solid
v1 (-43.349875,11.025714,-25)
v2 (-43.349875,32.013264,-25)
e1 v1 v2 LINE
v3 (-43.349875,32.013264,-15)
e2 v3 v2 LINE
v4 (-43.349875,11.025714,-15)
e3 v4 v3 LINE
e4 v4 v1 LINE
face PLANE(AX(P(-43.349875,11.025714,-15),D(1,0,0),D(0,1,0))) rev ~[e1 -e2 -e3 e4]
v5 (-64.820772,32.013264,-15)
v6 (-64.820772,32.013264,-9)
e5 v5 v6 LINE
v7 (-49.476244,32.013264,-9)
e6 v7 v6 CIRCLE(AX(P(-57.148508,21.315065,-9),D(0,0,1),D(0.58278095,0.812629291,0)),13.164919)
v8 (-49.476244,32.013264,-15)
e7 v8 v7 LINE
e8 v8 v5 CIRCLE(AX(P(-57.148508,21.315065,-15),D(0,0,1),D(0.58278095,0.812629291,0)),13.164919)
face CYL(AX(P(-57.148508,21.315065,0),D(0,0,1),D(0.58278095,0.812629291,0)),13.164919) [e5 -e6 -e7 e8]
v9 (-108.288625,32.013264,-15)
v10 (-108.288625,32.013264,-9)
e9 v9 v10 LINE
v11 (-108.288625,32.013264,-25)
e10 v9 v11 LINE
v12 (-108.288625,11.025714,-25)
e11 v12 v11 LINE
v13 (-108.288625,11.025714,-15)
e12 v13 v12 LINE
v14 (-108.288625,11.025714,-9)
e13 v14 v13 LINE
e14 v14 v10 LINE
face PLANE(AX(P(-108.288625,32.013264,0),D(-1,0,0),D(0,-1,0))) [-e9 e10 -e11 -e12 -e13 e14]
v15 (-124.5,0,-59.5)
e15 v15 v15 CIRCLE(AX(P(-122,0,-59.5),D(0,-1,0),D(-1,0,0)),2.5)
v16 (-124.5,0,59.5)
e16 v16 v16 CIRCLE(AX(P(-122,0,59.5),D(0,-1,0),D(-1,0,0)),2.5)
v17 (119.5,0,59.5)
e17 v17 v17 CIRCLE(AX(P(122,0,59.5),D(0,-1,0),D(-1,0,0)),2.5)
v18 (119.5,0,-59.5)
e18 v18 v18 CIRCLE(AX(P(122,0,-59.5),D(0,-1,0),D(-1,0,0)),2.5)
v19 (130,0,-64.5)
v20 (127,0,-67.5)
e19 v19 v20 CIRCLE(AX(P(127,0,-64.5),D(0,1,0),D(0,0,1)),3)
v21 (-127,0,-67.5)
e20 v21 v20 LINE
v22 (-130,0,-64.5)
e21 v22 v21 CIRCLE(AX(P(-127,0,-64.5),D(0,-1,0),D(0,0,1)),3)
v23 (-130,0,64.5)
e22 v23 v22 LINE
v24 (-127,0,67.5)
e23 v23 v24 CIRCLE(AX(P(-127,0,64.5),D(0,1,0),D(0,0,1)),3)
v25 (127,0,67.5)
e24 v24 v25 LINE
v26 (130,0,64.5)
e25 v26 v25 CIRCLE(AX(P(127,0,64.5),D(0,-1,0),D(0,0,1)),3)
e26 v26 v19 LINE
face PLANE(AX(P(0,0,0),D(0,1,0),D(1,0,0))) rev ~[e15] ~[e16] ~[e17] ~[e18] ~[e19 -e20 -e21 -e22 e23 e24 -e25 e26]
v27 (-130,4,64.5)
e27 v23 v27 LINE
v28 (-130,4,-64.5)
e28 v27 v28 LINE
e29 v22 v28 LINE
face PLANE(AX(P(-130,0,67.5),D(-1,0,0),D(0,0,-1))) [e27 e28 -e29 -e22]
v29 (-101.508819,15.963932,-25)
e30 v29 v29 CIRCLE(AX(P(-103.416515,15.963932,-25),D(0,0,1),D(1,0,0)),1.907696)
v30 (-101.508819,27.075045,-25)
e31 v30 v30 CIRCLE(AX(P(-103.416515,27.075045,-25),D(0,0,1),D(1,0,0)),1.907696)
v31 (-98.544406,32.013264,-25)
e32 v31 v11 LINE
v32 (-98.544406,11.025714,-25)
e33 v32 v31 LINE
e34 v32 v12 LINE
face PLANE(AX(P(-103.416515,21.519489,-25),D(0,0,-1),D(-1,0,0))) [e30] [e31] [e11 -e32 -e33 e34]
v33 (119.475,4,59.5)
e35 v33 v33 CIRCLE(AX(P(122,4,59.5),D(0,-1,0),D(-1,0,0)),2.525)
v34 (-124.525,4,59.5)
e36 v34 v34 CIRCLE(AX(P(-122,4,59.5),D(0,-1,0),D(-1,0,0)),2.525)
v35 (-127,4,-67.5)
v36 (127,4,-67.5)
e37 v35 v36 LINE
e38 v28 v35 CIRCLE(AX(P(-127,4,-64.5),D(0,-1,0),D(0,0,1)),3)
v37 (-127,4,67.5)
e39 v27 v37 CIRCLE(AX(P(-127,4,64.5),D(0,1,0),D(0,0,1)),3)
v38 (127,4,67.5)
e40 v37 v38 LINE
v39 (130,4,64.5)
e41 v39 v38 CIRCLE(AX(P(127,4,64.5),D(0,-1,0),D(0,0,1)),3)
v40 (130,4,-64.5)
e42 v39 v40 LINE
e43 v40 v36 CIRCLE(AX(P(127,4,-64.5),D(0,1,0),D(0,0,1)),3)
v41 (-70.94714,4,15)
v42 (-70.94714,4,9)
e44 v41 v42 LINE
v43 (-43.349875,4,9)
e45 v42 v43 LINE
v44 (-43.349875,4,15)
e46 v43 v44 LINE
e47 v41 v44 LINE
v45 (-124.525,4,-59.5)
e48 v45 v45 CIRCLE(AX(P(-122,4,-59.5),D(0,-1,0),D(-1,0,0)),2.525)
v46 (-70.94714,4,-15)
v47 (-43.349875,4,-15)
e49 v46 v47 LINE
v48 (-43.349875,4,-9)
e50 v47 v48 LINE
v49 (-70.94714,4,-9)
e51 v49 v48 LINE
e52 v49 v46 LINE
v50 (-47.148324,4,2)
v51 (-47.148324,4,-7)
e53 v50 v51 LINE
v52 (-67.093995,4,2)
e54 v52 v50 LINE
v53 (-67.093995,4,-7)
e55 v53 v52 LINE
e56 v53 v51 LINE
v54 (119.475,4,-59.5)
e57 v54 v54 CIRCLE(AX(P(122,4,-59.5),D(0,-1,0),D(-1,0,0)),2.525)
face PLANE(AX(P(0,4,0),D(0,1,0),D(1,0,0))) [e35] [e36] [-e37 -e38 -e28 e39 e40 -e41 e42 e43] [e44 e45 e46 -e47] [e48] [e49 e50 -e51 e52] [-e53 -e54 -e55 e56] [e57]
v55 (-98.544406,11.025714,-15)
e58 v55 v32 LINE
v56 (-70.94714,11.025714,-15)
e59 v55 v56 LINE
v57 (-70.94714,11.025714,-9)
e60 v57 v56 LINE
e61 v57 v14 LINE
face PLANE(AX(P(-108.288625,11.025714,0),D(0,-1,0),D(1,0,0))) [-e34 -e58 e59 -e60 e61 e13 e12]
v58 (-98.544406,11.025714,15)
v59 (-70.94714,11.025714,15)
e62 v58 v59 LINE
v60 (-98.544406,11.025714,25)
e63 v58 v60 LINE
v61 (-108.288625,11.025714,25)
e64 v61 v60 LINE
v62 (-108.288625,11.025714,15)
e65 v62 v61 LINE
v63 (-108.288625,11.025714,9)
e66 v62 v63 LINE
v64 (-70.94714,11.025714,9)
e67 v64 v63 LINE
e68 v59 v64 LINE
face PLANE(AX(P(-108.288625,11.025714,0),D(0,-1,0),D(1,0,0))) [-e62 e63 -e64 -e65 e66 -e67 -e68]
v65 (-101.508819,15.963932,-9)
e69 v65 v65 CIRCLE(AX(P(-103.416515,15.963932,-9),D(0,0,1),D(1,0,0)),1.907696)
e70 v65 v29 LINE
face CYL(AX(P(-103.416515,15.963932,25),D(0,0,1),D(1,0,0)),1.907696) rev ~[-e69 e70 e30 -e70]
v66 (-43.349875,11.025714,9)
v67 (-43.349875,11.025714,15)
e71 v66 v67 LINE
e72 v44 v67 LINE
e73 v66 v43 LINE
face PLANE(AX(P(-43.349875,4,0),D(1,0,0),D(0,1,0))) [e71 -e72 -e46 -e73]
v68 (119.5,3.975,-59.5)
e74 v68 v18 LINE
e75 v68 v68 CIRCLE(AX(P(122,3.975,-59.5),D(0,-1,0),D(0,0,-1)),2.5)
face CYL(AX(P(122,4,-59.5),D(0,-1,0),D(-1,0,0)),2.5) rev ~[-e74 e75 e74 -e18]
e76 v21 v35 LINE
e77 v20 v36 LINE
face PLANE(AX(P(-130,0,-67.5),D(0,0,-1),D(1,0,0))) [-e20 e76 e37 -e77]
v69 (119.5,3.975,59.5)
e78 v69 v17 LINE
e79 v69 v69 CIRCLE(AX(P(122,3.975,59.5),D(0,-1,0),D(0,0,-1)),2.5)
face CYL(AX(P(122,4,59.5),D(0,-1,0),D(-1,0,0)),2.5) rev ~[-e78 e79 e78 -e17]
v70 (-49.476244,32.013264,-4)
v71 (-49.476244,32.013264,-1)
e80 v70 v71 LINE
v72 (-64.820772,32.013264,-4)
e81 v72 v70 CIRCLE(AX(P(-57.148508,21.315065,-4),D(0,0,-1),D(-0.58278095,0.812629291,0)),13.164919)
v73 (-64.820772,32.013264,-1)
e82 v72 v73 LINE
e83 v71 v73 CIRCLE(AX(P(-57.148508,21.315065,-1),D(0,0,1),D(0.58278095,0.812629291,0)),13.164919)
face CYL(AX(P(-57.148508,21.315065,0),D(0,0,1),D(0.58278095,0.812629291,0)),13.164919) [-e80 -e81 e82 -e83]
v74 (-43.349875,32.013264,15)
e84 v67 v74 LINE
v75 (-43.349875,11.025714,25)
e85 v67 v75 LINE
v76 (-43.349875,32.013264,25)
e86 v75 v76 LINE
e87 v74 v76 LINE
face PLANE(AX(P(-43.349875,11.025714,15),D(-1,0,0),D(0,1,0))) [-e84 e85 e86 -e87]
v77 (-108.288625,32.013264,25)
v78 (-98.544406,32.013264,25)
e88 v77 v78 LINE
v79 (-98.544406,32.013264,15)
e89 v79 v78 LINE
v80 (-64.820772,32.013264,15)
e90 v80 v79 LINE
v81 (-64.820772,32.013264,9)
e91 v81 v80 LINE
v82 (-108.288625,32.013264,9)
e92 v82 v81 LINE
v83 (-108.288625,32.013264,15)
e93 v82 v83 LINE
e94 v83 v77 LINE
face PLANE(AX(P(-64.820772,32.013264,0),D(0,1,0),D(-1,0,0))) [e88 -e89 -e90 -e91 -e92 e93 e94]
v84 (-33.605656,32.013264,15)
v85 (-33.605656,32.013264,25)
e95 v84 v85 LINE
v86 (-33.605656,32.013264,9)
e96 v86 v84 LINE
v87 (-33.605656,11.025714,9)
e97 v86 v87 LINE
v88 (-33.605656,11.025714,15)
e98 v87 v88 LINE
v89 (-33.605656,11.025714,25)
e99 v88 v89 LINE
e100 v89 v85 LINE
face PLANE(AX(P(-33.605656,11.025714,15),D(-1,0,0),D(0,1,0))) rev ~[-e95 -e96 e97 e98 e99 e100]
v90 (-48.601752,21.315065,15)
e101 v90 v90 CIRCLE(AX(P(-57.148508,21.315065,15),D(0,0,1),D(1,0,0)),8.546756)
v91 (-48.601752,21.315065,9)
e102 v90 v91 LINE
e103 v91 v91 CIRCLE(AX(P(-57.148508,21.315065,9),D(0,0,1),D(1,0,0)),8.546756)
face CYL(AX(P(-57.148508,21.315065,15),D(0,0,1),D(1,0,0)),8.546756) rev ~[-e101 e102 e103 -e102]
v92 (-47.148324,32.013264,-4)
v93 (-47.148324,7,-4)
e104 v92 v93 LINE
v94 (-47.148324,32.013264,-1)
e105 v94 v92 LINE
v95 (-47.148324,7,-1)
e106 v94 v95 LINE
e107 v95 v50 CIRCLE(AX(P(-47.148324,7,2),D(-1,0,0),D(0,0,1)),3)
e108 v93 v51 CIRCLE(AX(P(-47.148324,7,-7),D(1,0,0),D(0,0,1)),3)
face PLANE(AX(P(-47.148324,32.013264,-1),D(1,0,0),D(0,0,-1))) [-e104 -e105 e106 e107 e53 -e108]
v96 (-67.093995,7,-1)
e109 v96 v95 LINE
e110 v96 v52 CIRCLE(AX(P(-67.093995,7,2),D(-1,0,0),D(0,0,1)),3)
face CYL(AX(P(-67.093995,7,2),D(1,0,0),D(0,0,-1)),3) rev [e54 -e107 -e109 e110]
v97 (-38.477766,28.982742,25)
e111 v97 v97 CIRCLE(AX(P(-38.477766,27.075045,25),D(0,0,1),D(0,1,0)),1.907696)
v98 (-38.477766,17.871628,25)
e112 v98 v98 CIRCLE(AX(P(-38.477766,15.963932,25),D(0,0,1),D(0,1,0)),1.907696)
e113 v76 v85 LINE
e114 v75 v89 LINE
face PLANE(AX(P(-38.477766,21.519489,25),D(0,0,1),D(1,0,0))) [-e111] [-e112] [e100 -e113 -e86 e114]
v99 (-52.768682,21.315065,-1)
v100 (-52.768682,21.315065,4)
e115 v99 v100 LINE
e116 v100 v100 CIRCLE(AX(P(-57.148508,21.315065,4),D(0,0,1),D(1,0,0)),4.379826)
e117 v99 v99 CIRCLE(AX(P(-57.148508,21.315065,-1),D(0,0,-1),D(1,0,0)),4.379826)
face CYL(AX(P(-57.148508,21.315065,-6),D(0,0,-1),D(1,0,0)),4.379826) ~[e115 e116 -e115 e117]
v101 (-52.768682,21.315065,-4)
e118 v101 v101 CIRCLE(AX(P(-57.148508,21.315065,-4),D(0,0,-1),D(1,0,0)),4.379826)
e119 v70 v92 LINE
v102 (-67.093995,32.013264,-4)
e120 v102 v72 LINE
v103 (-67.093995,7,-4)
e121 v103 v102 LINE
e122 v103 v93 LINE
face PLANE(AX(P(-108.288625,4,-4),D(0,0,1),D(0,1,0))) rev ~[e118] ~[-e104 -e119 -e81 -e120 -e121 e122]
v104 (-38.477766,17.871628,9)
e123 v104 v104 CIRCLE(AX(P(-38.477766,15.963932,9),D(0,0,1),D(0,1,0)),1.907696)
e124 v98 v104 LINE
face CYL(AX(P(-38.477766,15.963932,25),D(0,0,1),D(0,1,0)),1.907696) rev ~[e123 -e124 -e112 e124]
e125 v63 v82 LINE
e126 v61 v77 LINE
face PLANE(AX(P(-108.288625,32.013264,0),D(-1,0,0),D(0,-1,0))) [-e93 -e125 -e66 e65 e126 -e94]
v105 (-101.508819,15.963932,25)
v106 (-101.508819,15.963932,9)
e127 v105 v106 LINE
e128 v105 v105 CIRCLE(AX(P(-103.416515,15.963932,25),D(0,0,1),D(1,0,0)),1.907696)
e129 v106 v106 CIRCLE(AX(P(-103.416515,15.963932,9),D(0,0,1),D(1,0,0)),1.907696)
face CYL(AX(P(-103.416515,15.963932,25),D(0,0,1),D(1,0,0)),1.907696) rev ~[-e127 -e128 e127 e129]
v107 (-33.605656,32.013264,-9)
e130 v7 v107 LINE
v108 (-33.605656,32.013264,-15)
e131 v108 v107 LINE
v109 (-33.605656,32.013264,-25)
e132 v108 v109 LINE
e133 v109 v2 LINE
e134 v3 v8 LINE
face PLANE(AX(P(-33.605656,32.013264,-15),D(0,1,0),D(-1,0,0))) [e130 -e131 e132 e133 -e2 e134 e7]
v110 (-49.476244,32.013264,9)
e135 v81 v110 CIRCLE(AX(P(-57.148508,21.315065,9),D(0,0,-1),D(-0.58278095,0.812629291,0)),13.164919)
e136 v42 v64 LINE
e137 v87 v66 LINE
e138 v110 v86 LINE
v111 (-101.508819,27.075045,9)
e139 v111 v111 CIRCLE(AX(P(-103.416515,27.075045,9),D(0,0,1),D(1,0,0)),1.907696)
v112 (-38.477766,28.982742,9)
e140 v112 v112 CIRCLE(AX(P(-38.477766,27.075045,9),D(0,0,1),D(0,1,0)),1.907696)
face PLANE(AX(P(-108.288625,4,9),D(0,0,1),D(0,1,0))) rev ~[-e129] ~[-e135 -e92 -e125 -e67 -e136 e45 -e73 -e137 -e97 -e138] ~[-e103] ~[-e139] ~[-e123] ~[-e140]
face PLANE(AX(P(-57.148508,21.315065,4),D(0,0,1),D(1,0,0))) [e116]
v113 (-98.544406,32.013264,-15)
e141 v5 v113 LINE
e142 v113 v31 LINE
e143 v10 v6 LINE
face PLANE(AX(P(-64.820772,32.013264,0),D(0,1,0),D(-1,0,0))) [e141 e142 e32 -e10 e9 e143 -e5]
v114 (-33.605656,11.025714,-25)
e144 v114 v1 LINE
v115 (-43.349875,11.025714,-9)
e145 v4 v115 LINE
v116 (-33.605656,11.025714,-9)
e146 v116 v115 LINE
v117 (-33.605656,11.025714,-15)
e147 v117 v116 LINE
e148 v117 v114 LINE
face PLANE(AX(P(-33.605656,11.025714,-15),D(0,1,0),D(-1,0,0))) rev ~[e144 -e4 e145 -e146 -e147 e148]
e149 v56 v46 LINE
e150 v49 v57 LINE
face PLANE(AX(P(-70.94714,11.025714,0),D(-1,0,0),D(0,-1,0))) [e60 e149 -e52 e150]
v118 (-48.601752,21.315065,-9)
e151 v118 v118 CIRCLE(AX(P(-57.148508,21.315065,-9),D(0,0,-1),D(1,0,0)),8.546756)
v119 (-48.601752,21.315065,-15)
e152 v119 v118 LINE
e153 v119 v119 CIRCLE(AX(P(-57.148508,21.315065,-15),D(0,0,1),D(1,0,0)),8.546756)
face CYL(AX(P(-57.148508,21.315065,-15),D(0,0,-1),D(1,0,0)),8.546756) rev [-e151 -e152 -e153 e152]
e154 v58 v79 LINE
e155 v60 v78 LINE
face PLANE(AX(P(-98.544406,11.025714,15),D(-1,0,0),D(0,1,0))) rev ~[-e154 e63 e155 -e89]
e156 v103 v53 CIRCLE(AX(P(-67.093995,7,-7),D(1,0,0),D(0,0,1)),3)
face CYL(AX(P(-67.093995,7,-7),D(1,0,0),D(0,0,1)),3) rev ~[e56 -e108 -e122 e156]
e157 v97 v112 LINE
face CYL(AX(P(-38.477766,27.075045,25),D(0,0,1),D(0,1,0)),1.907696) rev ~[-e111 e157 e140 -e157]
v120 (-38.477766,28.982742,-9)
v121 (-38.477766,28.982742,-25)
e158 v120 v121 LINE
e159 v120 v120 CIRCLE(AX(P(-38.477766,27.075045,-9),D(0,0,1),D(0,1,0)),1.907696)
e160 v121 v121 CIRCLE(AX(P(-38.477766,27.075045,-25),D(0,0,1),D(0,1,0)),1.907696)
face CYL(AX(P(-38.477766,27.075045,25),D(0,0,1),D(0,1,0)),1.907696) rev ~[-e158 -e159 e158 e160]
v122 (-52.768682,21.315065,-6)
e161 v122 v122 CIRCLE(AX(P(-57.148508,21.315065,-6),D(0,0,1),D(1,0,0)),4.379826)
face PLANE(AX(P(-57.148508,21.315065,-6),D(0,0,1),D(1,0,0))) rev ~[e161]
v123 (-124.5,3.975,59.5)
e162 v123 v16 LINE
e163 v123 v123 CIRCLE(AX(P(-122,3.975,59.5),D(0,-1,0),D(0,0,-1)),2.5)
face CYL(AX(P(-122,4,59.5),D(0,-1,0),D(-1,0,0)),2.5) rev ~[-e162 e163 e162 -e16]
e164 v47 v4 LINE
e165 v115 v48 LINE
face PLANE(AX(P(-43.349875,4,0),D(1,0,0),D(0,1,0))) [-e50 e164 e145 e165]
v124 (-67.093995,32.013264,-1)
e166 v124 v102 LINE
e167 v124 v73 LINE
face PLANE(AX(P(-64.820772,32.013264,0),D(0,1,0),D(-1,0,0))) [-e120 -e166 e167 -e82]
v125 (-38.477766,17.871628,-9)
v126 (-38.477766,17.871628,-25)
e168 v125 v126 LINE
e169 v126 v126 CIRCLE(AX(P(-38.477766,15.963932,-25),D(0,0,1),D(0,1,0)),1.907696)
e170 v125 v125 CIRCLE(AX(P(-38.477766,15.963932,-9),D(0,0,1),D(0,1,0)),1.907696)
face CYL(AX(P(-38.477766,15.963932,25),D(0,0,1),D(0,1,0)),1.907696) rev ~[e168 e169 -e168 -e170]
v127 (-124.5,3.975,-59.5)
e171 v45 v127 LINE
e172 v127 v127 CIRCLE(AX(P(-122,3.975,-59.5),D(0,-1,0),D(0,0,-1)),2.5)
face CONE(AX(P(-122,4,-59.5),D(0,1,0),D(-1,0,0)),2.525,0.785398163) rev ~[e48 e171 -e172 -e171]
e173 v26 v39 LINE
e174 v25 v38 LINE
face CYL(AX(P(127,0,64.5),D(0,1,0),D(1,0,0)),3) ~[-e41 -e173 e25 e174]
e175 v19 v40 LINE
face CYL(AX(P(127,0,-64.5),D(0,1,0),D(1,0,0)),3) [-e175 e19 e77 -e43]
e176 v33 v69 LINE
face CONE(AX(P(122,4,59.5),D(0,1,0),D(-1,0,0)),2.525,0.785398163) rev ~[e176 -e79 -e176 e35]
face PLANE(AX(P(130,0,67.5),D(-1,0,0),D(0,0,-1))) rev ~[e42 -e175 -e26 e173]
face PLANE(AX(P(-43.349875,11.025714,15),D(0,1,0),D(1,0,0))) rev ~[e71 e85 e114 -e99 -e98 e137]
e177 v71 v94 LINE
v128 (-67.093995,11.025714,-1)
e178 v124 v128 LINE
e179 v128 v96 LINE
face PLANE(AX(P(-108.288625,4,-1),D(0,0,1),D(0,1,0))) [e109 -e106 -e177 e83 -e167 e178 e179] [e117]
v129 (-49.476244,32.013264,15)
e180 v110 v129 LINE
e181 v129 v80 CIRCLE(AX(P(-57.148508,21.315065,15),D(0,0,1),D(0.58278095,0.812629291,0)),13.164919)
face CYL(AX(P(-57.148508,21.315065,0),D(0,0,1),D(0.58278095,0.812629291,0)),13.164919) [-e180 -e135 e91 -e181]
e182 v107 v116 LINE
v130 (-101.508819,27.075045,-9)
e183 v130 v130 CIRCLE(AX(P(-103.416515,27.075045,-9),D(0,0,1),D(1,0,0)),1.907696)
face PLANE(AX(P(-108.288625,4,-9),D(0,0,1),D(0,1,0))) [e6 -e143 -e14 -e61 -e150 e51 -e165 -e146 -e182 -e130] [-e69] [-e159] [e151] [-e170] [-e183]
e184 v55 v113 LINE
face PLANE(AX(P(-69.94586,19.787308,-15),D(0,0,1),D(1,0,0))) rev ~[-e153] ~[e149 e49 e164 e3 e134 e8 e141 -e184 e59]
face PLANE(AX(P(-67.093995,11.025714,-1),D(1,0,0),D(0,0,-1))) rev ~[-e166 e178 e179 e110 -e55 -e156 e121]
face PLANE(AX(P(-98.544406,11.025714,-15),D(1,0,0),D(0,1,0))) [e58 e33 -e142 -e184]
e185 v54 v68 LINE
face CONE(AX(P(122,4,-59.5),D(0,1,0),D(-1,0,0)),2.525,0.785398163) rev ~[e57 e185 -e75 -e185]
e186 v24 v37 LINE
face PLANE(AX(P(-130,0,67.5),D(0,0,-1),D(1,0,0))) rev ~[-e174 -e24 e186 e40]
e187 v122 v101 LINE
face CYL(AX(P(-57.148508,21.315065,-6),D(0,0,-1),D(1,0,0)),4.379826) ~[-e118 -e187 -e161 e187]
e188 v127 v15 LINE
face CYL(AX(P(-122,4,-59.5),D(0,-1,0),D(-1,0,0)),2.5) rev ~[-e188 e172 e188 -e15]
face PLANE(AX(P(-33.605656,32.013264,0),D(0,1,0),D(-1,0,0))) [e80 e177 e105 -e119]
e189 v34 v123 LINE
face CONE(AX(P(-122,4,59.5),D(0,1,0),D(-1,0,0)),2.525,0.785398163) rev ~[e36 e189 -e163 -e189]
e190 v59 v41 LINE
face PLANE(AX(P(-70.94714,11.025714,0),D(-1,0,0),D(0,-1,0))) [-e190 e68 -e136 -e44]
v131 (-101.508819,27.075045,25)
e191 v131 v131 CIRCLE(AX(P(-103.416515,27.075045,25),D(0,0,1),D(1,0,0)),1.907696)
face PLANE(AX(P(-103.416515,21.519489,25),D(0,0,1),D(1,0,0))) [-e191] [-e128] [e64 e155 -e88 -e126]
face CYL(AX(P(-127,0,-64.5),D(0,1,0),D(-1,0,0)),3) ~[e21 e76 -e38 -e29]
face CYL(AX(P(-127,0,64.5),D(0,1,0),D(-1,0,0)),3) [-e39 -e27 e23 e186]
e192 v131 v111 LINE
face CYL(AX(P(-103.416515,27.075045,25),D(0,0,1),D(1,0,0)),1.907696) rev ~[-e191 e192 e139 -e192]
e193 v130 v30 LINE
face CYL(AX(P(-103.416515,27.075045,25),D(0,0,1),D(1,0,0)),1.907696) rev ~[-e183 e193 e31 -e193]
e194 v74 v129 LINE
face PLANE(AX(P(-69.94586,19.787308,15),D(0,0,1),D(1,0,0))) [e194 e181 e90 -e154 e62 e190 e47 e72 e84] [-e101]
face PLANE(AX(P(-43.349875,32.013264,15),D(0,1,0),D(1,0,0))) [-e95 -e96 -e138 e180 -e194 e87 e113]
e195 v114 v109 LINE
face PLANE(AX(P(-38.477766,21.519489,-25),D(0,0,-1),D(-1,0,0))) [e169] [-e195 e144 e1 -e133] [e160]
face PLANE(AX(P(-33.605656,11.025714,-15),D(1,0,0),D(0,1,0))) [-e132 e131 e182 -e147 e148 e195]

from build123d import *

# Parameters (mm, degrees)
SKETCH_1_W                      = 260
SKETCH_1_H                      = 135
EXTRUDE_1_DEPTH                 = 4
HOLE_WIZARD_5_0_5_1_D           = 5
HOLE_WIZARD_5_0_5_1_CSINK_D     = 5.05
HOLE_WIZARD_5_0_5_1_CSINK_ANGLE = 90
FILLET_1_R                      = 3
EXTRUDE_2_DEPTH                 = 15
SKETCH_5_W                      = 5
SKETCH_5_H                      = 30.479983875
SKETCH_5_W_2                    = 10
CUT_EXTRUDE_2_DEPTH             = 251.053170719
SKETCH_7_W                      = 41.194630643
SKETCH_7_H                      = 3
CUT_EXTRUDE_3_DEPTH             = 20.987549798
SKETCH_8_W                      = 13.542667964
SKETCH_8_H                      = 3
CUT_EXTRUDE_5_DEPTH             = 28.013263597
SKETCH_9_W                      = 3.853145938
SKETCH_9_H                      = 3
CUT_EXTRUDE_6_DEPTH             = 7.025713799
SKETCH_11_W                     = 9.744219549
SKETCH_11_H                     = 20.987549798
EXTRUDE_3_DEPTH                 = 10
SKETCH_12_W                     = 9.744219549
SKETCH_12_H                     = 20.987549798
EXTRUDE_4_DEPTH                 = 10
SKETCH_13_R                     = 1.907696141
CUT_EXTRUDE_7_DEPTH             = 164.233327749
SKETCH_15_R                     = 8.546756312
CUT_EXTRUDE_8_DEPTH             = 10
EXTRUDE_5_DEPTH                 = 5
EXTRUDE_5_DEPTH_BACK            = 5
SKETCH_16_R                     = 4.379825861
FILLET_2_R                      = 3


with BuildPart() as part:
    # 草图1 → 凸台-拉伸1 (new body)
    with BuildSketch(Plane(origin=(0, 0, 0), x_dir=(1, 0, 0), z_dir=(0, 1, 0))):
        Rectangle(SKETCH_1_W, SKETCH_1_H)
    extrude(amount=EXTRUDE_1_DEPTH)

    # Ø5.0 (5) 直径孔1 (through all)
    with Locations(Plane(origin=(0, 4, 0), x_dir=(1, 0, 0), z_dir=(0, 1, 0))):
        with Locations((-122, 59.5), (-122, -59.5), (122, -59.5), (122, 59.5)):
            CounterSinkHole(HOLE_WIZARD_5_0_5_1_D / 2, HOLE_WIZARD_5_0_5_1_CSINK_D / 2, counter_sink_angle=HOLE_WIZARD_5_0_5_1_CSINK_ANGLE)

    # 圆角1
    fillet_1_edges = [part.edges().sort_by_distance(p)[0] for p in [
        (130, 2, 67.5),
        (-130, 2, 67.5),
        (-130, 2, -67.5),
        (130, 2, -67.5),
    ]]
    fillet(fillet_1_edges, radius=FILLET_1_R)

    # 草图4 → 凸台-拉伸2 (add, symmetric)
    with BuildSketch(Plane.XY):
        with BuildLine():
            Line((-70.947140493, 4), (-43.349875336, 4))
            Line((-43.349875336, 4), (-43.349875336, 11.025713799))
            Line((-43.349875336, 11.025713799), (-33.605655787, 11.025713799))
            Line((-33.605655787, 11.025713799), (-33.605655787, 32.013263597))
            Line((-33.605655787, 32.013263597), (-43.349875336, 32.013263597))
            Line((-43.349875336, 32.013263597), (-49.476243699, 32.013263597))
            ThreePointArc((-49.476243699, 32.013263597), (-57.148507914, 34.479983875), (-64.82077213, 32.013263597))
            Line((-64.82077213, 32.013263597), (-98.544405649, 32.013263597))
            Line((-98.544405649, 32.013263597), (-108.288625198, 32.013263597))
            Line((-108.288625198, 32.013263597), (-108.288625198, 11.025713799))
            Line((-108.288625198, 11.025713799), (-98.544405649, 11.025713799))
            Line((-98.544405649, 11.025713799), (-70.947140493, 11.025713799))
            Line((-70.947140493, 11.025713799), (-70.947140493, 4))
        make_face()
    extrude(amount=EXTRUDE_2_DEPTH, both=True)

    # 草图5 → 切除-拉伸2 (cut, through all)
    with BuildSketch(Plane.ZY.offset(108.288625198)):
        with Locations((-6.5, 19.239991938)):
            Rectangle(SKETCH_5_W, SKETCH_5_H)
        with Locations((4, 19.239991938)):
            Rectangle(SKETCH_5_W_2, SKETCH_5_H)
    extrude(amount=-CUT_EXTRUDE_2_DEPTH, mode=Mode.SUBTRACT)

    # 草图7 → 切除-拉伸3 (cut)
    with BuildSketch(Plane(origin=(0, 32.013263597, 0), x_dir=(1, 0, 0), z_dir=(0, 1, 0))):
        with Locations((-87.691309877, 2.5)):
            Rectangle(SKETCH_7_W, SKETCH_7_H)
    extrude(amount=-CUT_EXTRUDE_3_DEPTH, mode=Mode.SUBTRACT)

    # 草图8 → 切除-拉伸5 (cut)
    with BuildSketch(Plane(origin=(0, 32.013263597, 0), x_dir=(1, 0, 0), z_dir=(0, 1, 0))):
        with Locations((-40.376989769, 2.5)):
            Rectangle(SKETCH_8_W, SKETCH_8_H)
    extrude(amount=-CUT_EXTRUDE_5_DEPTH, mode=Mode.SUBTRACT)

    # 草图9 → 切除-拉伸6 (cut)
    with BuildSketch(Plane(origin=(0, 11.025713799, 0), x_dir=(1, 0, 0), z_dir=(0, 1, 0))):
        with Locations((-69.020567524, 2.5)):
            Rectangle(SKETCH_9_W, SKETCH_9_H)
    extrude(amount=-CUT_EXTRUDE_6_DEPTH, mode=Mode.SUBTRACT)

    # 草图11 → 凸台-拉伸3 (add)
    with BuildSketch(Plane.XY.offset(15)):
        with Locations((-38.477765562, 21.519488698)):
            Rectangle(SKETCH_11_W, SKETCH_11_H)
        with Locations((-103.416515424, 21.519488698)):
            Rectangle(SKETCH_11_W, SKETCH_11_H)
    extrude(amount=EXTRUDE_3_DEPTH)

    # 草图12 → 凸台-拉伸4 (add)
    with BuildSketch(Plane(origin=(0, 0, -15), x_dir=(-1, 0, 0), z_dir=(0, 0, -1))):
        with Locations((38.477765562, 21.519488698)):
            Rectangle(SKETCH_12_W, SKETCH_12_H)
        with Locations((103.416515424, 21.519488698)):
            Rectangle(SKETCH_12_W, SKETCH_12_H)
    extrude(amount=EXTRUDE_4_DEPTH)

    # 草图13 → 切除-拉伸7 (cut, through all)
    with BuildSketch(Plane.XY.offset(25)):
        with Locations(Location((-38.477765562, 27.075045448, 0), (0, 0, 90))):
            Circle(SKETCH_13_R)
        with Locations(Location((-38.477765562, 15.963931947, 0), (0, 0, 90))):
            Circle(SKETCH_13_R)
        with Locations((-103.416515423, 15.963931947)):
            Circle(SKETCH_13_R)
        with Locations((-103.416515423, 27.075045448)):
            Circle(SKETCH_13_R)
    extrude(amount=-CUT_EXTRUDE_7_DEPTH, mode=Mode.SUBTRACT)

    # 草图15 → 切除-拉伸8 (cut)
    with BuildSketch(Plane.XY.offset(15)):
        with Locations((-57.148507914, 21.315064512)):
            Circle(SKETCH_15_R)
    cut_extrude_8 = extrude(amount=-CUT_EXTRUDE_8_DEPTH, mode=Mode.SUBTRACT)

    # 镜向3: 切除-拉伸8 across plane
    add(cut_extrude_8.mirror(Plane.XY), mode=Mode.SUBTRACT)

    # 草图16 → 凸台-拉伸5 (add, two sides: drawn at the far end of the back side and taken through both)
    with BuildSketch(Plane.XY.offset(-1).offset(-EXTRUDE_5_DEPTH_BACK)):
        with Locations((-57.148507914, 21.315064512)):
            Circle(SKETCH_16_R)
    extrude(amount=EXTRUDE_5_DEPTH + EXTRUDE_5_DEPTH_BACK)

    # 圆角2
    fillet_2_edges = [part.edges().sort_by_distance(p)[0] for p in [
        (-57.121159153, 4, -4),
        (-57.121159153, 4, -1),
    ]]
    fillet(fillet_2_edges, radius=FILLET_2_R)


solid = part.part
